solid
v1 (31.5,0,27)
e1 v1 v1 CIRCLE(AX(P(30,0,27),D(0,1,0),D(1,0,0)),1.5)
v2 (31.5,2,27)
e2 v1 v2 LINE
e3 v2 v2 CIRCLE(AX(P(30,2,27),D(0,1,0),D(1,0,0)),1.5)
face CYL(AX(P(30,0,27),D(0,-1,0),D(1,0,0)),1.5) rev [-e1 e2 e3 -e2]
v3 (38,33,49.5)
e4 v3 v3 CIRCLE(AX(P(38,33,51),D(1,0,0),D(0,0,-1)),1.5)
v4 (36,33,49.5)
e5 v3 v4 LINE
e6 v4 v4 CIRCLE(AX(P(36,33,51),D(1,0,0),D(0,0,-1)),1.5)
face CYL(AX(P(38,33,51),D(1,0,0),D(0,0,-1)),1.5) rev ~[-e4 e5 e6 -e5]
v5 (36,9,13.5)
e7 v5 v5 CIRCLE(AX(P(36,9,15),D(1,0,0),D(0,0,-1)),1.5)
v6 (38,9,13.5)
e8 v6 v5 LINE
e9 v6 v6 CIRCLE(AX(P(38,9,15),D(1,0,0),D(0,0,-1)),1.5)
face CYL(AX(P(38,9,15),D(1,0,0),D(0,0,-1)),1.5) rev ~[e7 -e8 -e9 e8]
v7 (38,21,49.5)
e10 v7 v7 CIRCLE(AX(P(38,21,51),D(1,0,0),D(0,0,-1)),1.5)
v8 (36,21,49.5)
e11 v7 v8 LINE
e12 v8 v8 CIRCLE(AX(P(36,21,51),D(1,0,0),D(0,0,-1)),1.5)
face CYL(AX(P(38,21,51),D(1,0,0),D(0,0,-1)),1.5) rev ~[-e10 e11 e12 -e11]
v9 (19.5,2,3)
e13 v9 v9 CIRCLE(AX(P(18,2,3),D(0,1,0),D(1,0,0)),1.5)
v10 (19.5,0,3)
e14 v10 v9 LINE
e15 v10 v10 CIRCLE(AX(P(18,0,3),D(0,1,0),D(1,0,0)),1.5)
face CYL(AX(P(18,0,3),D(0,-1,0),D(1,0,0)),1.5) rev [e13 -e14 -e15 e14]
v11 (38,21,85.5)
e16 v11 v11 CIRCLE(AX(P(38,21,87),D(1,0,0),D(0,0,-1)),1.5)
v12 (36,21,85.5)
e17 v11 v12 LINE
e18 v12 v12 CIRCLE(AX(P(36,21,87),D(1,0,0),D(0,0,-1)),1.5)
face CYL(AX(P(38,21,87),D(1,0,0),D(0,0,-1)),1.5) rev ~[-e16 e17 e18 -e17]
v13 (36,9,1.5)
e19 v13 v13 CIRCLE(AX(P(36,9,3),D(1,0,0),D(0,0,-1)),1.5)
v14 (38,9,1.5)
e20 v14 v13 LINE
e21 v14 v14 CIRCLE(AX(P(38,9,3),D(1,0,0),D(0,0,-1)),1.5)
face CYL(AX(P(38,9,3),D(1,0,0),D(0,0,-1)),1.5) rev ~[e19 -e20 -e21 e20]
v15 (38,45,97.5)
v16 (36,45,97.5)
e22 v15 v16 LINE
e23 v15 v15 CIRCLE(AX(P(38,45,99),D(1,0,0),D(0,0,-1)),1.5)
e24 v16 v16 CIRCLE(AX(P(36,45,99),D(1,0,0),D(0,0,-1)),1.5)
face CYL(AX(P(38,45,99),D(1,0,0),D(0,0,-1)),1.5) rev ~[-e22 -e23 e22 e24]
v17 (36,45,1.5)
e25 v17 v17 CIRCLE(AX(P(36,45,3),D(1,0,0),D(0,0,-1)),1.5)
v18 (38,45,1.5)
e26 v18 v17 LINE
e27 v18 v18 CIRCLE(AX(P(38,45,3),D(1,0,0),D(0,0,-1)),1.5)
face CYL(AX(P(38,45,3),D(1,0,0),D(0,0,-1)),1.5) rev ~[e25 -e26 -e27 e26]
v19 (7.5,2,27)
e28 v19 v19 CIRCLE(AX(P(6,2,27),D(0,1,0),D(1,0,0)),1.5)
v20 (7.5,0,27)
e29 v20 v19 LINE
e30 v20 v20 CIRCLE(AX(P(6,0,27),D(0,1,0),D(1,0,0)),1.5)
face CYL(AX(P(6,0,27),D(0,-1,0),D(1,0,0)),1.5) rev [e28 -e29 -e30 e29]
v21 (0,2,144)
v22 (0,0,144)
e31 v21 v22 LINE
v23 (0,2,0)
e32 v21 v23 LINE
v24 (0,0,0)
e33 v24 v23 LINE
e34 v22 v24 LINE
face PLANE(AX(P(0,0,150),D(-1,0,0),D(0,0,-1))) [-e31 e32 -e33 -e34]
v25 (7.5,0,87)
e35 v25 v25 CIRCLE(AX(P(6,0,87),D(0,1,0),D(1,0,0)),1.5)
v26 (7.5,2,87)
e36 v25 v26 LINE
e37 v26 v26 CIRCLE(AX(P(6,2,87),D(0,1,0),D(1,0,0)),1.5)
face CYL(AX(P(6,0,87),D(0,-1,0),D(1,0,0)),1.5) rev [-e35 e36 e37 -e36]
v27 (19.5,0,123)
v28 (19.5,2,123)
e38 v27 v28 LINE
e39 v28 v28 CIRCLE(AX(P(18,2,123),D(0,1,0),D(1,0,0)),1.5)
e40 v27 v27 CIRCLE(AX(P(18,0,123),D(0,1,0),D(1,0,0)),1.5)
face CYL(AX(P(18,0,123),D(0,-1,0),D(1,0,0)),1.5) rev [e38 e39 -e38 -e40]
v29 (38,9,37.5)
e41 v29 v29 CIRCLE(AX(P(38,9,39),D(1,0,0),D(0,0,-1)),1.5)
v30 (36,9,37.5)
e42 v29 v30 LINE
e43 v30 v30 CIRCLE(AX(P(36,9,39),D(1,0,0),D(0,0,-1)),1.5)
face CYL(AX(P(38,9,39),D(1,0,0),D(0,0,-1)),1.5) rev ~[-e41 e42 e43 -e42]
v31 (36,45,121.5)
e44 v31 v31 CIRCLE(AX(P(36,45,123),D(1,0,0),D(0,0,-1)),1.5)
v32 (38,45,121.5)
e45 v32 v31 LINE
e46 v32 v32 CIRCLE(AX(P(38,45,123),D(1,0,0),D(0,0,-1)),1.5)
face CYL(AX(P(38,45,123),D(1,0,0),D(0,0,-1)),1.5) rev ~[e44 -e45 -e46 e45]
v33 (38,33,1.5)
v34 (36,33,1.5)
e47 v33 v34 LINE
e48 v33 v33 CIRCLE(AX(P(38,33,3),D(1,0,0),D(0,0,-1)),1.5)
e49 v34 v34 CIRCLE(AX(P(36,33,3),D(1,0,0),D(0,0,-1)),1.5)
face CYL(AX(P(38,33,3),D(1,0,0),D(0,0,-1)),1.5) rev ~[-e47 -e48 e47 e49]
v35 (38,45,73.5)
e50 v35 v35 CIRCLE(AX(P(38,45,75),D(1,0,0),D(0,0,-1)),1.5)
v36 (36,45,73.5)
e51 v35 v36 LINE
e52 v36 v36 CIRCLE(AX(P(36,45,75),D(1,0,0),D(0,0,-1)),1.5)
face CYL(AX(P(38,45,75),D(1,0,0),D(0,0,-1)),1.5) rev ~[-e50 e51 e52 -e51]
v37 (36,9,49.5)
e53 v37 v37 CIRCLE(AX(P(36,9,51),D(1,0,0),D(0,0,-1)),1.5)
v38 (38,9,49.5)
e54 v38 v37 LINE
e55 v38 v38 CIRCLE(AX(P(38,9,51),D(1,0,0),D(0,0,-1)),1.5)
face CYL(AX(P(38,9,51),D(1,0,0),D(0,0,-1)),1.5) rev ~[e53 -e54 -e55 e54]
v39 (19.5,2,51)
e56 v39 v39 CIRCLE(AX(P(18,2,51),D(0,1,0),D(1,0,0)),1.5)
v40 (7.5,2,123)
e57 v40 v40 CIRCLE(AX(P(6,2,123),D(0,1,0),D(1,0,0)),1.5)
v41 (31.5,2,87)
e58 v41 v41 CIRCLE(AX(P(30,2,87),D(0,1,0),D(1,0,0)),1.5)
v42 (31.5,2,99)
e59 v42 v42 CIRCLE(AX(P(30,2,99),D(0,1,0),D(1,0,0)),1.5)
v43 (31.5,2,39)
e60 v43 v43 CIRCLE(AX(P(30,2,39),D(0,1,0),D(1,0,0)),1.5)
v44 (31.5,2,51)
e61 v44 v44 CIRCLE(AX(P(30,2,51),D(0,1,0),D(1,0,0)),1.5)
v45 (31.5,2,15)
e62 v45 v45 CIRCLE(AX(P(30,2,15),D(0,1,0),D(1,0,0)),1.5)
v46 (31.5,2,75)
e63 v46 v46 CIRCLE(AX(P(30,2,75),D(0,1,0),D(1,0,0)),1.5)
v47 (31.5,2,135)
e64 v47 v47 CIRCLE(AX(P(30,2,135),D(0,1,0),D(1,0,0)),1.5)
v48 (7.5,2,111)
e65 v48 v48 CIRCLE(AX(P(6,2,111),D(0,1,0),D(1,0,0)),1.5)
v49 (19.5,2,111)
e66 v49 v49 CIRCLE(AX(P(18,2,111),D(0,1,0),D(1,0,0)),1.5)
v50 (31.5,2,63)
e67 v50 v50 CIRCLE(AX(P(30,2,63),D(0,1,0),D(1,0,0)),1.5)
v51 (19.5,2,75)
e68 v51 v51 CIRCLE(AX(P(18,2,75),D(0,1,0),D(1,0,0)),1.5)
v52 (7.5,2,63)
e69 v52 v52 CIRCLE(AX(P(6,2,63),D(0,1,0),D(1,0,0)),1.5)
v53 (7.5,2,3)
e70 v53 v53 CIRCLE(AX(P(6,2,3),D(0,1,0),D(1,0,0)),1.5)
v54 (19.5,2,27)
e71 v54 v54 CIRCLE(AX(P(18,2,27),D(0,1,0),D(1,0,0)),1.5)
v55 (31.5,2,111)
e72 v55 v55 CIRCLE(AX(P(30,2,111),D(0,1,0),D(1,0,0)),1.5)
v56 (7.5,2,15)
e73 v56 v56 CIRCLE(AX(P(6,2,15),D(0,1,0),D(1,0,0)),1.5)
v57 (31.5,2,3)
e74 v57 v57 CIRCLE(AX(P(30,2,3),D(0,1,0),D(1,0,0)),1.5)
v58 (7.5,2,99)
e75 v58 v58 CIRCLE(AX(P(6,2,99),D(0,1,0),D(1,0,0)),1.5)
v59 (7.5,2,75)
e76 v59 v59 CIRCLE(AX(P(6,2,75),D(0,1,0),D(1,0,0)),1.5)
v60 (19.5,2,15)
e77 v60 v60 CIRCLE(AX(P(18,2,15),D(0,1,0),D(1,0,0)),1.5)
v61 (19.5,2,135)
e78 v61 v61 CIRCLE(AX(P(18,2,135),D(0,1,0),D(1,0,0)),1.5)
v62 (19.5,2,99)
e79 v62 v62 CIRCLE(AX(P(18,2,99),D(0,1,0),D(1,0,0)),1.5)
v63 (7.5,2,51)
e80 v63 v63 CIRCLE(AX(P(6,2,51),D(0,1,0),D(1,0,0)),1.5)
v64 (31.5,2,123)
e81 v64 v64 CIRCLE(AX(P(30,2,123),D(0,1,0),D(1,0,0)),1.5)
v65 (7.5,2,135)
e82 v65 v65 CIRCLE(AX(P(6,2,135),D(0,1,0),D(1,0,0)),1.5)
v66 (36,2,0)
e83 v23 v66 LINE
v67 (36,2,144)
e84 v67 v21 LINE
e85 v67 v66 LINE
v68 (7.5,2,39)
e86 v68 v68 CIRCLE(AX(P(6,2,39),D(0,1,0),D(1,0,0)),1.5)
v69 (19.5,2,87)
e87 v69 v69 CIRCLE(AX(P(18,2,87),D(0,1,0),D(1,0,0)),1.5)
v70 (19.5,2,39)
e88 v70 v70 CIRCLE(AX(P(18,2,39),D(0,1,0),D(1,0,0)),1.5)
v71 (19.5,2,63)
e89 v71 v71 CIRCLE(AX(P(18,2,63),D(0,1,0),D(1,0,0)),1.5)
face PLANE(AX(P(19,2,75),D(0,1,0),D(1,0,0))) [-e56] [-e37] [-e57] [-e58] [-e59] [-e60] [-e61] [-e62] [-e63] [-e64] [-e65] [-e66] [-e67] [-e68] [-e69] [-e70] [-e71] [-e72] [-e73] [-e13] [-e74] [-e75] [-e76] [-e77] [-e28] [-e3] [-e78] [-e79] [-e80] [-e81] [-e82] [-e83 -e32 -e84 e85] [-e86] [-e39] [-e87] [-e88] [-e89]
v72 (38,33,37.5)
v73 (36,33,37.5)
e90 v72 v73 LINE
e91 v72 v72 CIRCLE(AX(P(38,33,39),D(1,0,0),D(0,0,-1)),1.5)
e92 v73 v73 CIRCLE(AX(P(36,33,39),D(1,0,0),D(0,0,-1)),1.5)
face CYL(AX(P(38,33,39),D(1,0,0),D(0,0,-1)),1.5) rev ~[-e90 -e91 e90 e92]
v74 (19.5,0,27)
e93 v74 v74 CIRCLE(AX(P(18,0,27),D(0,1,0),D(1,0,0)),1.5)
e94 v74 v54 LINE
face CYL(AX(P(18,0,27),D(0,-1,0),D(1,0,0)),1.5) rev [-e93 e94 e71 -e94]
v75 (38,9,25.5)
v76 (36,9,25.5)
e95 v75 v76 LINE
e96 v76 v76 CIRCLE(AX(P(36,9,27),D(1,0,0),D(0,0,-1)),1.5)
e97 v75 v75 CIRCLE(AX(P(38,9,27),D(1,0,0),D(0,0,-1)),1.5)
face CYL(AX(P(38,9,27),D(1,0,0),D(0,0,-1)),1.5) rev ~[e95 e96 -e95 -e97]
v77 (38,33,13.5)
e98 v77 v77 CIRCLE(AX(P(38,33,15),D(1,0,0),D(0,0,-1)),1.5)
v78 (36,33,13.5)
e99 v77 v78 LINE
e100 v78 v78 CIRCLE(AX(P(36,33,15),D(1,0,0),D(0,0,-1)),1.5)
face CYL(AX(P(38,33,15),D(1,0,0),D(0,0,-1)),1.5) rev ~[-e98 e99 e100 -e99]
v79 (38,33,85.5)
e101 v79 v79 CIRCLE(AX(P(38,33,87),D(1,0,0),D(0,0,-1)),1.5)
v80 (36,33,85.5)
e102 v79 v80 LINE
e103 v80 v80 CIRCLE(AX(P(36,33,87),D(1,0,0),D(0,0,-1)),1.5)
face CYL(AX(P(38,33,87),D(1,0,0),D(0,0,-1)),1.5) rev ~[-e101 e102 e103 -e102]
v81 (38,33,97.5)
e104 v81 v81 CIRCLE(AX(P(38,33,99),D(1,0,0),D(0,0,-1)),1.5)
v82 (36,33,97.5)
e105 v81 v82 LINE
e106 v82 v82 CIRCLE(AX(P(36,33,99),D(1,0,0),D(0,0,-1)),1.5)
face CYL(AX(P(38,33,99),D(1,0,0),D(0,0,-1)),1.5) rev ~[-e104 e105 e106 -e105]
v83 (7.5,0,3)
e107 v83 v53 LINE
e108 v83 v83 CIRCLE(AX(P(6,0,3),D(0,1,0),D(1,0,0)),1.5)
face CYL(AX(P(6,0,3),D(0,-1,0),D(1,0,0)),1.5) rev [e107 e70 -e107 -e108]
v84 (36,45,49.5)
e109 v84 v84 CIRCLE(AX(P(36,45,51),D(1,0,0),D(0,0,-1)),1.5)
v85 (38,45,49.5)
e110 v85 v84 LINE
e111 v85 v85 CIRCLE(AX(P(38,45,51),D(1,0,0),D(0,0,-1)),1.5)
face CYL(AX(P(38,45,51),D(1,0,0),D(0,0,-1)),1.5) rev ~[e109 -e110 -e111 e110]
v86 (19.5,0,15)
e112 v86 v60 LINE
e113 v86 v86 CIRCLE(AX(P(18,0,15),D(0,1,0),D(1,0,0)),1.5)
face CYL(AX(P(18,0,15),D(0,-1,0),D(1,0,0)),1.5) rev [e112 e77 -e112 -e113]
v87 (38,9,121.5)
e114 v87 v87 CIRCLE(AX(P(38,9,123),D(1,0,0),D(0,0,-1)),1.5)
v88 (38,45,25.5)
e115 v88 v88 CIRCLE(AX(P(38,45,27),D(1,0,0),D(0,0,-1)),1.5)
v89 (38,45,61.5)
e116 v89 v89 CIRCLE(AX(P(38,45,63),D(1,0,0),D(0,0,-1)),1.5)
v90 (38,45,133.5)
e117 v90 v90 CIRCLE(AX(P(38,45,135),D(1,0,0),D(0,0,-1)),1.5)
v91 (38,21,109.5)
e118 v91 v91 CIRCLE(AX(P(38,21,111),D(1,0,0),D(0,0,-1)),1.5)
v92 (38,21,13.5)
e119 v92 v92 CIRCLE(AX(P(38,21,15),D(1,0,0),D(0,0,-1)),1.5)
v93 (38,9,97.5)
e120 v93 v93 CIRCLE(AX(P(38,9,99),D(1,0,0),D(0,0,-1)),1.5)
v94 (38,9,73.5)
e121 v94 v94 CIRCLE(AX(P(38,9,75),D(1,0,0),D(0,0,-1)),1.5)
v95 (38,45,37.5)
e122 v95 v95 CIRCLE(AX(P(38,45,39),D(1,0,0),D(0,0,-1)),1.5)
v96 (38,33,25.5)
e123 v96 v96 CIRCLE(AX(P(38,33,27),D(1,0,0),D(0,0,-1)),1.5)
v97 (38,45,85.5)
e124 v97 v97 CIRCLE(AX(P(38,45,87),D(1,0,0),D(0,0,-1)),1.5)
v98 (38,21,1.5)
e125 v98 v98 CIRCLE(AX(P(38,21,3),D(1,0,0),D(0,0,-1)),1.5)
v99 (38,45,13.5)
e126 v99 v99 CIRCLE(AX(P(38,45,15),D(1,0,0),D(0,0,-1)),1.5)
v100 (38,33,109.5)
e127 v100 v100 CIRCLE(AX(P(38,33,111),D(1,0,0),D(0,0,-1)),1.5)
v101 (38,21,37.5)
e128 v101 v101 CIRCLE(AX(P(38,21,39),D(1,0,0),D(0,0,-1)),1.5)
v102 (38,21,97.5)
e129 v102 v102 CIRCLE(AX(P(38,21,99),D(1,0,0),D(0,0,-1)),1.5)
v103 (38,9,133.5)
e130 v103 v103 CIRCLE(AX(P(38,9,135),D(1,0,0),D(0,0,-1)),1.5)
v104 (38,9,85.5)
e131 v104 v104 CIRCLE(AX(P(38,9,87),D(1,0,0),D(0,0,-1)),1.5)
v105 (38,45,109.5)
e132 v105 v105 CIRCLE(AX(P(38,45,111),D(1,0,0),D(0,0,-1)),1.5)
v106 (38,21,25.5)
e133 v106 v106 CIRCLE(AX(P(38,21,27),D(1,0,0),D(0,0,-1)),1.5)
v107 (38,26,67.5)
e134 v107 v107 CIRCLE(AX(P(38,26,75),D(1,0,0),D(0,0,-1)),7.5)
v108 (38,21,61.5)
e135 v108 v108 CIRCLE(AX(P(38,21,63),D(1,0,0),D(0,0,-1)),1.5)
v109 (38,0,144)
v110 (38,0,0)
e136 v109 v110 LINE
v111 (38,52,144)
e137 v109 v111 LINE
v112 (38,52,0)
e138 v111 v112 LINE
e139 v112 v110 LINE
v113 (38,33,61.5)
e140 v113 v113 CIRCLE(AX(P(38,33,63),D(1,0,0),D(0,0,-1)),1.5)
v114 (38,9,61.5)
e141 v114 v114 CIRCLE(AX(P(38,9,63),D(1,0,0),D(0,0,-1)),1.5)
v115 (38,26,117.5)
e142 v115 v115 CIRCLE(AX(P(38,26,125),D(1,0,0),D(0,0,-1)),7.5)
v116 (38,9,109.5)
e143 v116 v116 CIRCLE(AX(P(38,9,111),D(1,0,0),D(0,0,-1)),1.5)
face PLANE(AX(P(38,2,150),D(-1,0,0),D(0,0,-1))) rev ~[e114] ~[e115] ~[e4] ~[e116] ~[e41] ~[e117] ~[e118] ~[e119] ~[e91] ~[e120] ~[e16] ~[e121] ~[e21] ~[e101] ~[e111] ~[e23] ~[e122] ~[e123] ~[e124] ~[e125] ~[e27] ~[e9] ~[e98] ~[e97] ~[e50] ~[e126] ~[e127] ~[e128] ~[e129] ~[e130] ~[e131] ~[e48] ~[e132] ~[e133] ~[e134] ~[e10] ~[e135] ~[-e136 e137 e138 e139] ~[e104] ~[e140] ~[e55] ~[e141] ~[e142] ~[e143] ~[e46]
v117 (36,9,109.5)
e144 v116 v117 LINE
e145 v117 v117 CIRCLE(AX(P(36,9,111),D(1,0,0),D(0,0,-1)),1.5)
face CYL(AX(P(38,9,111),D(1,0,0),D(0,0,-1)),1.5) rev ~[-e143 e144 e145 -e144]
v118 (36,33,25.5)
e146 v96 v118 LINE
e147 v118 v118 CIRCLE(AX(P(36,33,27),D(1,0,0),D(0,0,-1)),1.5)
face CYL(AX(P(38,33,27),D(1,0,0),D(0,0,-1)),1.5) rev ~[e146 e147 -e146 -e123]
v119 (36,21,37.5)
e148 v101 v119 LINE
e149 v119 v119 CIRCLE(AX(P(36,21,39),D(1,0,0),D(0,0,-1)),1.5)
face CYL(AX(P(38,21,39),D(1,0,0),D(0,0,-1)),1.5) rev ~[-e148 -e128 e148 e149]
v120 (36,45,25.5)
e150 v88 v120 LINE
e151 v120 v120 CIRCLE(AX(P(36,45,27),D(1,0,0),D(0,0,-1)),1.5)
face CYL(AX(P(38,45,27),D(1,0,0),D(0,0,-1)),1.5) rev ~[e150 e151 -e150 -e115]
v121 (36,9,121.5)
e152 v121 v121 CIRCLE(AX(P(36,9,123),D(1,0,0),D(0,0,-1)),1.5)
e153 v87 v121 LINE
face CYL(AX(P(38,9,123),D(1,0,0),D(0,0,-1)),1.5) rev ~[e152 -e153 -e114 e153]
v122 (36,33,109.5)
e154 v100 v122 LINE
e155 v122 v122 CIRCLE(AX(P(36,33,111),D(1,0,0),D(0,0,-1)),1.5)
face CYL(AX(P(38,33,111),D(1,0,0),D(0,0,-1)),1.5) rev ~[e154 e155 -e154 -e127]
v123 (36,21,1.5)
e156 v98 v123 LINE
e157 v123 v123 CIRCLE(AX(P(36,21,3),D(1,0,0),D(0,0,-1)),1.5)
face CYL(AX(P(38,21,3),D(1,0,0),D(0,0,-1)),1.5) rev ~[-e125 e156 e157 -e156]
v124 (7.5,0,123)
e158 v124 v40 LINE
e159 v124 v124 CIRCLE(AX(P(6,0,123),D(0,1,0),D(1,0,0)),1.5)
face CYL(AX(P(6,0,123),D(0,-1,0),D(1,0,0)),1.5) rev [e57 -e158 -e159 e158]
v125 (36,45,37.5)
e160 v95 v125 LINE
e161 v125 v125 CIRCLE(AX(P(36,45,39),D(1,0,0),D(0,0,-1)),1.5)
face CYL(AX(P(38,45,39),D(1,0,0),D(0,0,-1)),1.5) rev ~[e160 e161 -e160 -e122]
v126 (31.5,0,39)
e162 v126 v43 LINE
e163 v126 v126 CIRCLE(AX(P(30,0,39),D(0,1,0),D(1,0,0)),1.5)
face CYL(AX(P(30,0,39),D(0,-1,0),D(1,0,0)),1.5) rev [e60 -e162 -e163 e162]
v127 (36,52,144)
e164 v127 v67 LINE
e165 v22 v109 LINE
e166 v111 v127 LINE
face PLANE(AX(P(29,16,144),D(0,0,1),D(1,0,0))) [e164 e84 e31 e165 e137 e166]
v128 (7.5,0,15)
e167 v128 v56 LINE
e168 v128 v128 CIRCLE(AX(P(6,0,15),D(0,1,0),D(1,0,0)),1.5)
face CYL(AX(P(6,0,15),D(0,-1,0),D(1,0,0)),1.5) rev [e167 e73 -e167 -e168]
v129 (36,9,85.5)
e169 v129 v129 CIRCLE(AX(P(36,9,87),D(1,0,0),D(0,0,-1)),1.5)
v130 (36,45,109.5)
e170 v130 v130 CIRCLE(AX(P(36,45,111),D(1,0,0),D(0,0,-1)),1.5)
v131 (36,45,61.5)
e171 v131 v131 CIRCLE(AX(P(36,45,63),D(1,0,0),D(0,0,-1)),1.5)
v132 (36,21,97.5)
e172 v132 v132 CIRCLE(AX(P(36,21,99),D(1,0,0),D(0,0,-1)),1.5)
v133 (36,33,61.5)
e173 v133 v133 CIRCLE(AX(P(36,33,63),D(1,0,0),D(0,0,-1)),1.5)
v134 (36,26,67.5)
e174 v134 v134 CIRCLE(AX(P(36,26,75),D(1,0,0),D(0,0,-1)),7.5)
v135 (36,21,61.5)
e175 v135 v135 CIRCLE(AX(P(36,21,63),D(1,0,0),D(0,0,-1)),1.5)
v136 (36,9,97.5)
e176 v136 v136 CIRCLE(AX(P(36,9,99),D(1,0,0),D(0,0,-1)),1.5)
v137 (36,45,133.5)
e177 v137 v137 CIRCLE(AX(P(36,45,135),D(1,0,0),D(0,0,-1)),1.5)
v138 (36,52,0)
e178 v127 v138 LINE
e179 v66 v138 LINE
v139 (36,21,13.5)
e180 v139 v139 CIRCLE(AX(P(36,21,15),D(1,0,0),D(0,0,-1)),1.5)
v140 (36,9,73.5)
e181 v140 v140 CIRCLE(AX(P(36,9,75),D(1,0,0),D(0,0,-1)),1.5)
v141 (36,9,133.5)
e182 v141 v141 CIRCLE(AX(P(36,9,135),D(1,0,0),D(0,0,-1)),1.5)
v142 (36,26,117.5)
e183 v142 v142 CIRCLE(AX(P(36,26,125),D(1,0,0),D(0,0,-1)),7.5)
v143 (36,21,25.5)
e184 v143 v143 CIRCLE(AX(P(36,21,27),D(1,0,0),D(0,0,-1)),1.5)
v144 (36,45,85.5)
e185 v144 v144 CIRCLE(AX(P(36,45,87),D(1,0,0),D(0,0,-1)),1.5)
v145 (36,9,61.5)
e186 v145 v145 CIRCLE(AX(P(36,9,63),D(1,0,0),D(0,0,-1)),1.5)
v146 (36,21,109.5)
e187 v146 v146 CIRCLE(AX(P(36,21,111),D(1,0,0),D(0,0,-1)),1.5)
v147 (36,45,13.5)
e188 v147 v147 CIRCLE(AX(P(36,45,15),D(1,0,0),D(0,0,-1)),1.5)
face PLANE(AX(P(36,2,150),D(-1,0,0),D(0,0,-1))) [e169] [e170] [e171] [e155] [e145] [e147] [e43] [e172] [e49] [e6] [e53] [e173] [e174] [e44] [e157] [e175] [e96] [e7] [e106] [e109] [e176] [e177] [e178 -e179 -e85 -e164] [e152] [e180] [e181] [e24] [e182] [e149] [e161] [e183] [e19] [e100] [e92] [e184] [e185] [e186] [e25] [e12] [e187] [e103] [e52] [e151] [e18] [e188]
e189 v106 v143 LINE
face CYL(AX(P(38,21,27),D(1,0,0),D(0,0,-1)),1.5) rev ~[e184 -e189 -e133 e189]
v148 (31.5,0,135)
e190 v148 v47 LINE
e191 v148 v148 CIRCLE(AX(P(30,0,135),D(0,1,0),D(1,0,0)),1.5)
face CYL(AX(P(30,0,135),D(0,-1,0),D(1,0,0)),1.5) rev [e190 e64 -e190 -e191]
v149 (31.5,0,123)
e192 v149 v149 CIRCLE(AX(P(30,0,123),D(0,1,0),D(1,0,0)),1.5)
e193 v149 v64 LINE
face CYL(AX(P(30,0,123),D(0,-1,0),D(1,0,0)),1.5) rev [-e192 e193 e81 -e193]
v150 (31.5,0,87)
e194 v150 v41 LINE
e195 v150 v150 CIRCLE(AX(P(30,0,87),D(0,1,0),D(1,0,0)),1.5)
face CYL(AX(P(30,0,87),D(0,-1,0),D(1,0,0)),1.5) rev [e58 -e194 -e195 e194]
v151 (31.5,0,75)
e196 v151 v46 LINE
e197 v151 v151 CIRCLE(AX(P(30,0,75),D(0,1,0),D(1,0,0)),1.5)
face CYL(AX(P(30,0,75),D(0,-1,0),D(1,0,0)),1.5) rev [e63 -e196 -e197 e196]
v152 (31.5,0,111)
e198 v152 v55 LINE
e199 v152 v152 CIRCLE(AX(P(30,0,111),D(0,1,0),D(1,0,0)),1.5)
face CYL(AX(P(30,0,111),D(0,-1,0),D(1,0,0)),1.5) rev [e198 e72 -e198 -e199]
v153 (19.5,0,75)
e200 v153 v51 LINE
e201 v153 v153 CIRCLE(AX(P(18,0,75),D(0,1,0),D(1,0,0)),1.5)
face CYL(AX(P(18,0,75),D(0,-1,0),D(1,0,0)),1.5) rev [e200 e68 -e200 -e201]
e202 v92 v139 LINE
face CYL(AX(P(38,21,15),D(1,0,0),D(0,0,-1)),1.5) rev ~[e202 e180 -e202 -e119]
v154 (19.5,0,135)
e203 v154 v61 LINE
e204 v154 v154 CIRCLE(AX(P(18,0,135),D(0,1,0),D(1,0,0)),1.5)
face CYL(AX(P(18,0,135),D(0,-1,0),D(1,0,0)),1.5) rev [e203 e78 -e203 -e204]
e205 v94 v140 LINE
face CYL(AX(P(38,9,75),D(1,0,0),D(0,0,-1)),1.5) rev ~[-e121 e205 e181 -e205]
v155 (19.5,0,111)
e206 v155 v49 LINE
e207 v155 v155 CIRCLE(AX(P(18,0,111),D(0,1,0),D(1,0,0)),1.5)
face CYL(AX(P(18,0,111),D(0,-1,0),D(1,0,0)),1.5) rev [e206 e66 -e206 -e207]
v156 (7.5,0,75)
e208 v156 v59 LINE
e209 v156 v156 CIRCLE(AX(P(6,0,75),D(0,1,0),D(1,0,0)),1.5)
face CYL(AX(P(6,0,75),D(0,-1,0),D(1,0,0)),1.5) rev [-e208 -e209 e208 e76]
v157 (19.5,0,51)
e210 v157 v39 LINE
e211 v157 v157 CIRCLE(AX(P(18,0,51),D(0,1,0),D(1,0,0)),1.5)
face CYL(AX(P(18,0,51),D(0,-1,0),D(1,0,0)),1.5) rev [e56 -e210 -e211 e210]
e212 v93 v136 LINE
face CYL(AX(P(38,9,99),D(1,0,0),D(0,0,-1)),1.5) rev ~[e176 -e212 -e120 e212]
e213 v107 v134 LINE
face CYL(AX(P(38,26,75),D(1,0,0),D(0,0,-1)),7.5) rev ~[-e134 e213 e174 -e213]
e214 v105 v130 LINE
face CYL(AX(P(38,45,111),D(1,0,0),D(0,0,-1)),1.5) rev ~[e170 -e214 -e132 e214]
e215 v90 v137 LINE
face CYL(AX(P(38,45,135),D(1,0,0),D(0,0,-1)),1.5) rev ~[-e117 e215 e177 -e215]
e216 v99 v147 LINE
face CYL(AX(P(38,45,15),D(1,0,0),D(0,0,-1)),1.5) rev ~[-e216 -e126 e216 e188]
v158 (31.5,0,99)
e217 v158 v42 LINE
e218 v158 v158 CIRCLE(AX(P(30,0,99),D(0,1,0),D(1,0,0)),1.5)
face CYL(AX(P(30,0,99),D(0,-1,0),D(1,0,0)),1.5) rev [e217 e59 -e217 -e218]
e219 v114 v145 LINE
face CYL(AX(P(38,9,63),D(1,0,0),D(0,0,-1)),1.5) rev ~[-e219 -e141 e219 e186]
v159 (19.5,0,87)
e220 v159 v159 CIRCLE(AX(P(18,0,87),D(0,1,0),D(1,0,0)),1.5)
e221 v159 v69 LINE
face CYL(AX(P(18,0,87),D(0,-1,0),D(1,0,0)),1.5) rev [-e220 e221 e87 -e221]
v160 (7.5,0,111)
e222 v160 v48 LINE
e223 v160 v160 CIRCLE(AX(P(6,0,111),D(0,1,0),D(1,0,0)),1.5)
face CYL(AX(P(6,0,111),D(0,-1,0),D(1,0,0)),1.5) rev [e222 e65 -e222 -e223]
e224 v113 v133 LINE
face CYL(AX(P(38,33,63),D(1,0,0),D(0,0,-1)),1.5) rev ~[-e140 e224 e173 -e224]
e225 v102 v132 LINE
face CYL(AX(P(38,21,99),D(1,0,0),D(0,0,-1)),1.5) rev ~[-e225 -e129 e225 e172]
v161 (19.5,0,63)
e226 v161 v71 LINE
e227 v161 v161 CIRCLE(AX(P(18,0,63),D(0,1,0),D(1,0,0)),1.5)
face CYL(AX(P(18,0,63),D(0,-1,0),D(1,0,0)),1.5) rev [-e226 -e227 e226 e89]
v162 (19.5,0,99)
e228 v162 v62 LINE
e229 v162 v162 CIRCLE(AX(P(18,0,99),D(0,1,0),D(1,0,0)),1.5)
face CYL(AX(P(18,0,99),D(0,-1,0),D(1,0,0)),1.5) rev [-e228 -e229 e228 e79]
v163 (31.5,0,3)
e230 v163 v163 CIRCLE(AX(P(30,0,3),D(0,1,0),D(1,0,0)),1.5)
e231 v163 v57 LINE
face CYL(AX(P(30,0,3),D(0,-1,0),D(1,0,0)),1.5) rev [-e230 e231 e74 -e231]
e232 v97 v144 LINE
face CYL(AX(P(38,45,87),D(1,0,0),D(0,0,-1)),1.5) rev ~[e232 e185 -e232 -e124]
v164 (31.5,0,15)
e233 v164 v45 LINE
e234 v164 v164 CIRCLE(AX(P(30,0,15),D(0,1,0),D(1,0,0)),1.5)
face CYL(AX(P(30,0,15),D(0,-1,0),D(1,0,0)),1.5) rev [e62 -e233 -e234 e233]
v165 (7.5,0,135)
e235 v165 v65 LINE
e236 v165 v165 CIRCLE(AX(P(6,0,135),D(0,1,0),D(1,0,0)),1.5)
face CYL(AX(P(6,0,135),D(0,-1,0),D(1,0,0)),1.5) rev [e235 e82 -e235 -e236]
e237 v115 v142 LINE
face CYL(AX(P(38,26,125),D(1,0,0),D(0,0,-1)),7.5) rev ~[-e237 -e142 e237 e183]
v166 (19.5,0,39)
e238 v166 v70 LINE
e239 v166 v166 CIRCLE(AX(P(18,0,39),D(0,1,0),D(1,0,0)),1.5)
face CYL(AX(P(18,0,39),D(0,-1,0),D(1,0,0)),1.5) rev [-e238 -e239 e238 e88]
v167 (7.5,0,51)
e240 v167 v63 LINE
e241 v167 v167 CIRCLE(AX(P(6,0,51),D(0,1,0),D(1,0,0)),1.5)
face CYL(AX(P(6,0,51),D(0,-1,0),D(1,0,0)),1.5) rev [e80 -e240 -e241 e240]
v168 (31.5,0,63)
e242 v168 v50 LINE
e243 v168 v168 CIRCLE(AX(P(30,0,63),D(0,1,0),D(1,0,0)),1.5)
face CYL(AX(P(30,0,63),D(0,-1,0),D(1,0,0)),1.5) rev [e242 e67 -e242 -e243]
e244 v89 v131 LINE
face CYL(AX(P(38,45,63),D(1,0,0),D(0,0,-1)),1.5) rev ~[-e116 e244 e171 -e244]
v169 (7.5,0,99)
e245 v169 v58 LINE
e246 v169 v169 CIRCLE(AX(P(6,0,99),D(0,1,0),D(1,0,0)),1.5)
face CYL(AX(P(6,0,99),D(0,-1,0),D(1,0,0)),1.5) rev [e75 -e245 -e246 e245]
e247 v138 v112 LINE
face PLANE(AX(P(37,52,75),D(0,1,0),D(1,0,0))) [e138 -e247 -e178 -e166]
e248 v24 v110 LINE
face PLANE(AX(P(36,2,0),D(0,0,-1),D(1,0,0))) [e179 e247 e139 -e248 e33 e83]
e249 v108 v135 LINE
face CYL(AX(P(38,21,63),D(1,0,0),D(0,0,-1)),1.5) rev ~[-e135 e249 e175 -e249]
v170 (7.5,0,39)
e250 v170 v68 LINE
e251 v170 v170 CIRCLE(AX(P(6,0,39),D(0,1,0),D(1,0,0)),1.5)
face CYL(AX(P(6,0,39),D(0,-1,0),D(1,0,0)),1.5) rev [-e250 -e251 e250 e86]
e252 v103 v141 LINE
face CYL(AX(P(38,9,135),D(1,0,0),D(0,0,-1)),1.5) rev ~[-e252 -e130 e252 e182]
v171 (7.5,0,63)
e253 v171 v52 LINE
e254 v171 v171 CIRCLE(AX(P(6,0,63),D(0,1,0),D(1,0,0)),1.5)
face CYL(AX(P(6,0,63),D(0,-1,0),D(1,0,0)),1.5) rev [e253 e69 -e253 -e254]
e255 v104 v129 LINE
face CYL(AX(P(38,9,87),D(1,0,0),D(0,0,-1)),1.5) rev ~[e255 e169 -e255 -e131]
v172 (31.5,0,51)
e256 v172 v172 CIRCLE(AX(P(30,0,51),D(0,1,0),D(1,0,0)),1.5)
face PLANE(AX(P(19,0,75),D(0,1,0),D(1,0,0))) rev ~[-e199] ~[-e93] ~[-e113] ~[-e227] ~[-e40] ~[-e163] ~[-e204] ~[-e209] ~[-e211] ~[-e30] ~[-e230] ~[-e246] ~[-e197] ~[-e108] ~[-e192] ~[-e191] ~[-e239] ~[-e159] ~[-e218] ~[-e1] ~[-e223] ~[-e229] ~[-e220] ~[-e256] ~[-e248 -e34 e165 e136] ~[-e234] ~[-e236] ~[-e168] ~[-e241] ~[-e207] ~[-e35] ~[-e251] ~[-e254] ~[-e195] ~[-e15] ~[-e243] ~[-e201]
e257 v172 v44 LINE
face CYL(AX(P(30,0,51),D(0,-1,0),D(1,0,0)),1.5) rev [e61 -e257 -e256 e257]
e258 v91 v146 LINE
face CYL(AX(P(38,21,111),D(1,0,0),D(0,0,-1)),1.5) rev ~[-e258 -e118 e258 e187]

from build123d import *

# Parameters (mm, degrees)
SKETCH1_W           = 38
SKETCH1_H           = 150
SKETCH1_R           = 1.5
BOSS_EXTRUDE1_DEPTH = 2
SKETCH2_W           = 2
SKETCH2_H           = 150
BOSS_EXTRUDE2_DEPTH = 50
SKETCH3_R           = 1.5
SKETCH3_R_2         = 7.5
CUT_EXTRUDE1_DEPTH  = 50
CUT_EXTRUDE2_DEPTH  = 6


with BuildPart() as part:
    # Sketch1 → Boss-Extrude1 (new body)
    with BuildSketch(Plane(origin=(0, 0, 0), x_dir=(1, 0, 0), z_dir=(0, 1, 0))):
        with Locations((19, -75)):
            Rectangle(SKETCH1_W, SKETCH1_H)
        with Locations((6, -3)):
            Circle(SKETCH1_R, mode=Mode.SUBTRACT)
        with Locations((18, -3)):
            Circle(SKETCH1_R, mode=Mode.SUBTRACT)
        with Locations((30, -3)):
            Circle(SKETCH1_R, mode=Mode.SUBTRACT)
        with Locations((18, -15)):
            Circle(SKETCH1_R, mode=Mode.SUBTRACT)
        with Locations((30, -15)):
            Circle(SKETCH1_R, mode=Mode.SUBTRACT)
        with Locations((18, -27)):
            Circle(SKETCH1_R, mode=Mode.SUBTRACT)
        with Locations((30, -27)):
            Circle(SKETCH1_R, mode=Mode.SUBTRACT)
        with Locations((18, -39)):
            Circle(SKETCH1_R, mode=Mode.SUBTRACT)
        with Locations((30, -39)):
            Circle(SKETCH1_R, mode=Mode.SUBTRACT)
        with Locations((18, -51)):
            Circle(SKETCH1_R, mode=Mode.SUBTRACT)
        with Locations((30, -51)):
            Circle(SKETCH1_R, mode=Mode.SUBTRACT)
        with Locations((18, -63)):
            Circle(SKETCH1_R, mode=Mode.SUBTRACT)
        with Locations((30, -63)):
            Circle(SKETCH1_R, mode=Mode.SUBTRACT)
        with Locations((18, -75)):
            Circle(SKETCH1_R, mode=Mode.SUBTRACT)
        with Locations((30, -75)):
            Circle(SKETCH1_R, mode=Mode.SUBTRACT)
        with Locations((18, -87)):
            Circle(SKETCH1_R, mode=Mode.SUBTRACT)
        with Locations((30, -87)):
            Circle(SKETCH1_R, mode=Mode.SUBTRACT)
        with Locations((18, -99)):
            Circle(SKETCH1_R, mode=Mode.SUBTRACT)
        with Locations((30, -99)):
            Circle(SKETCH1_R, mode=Mode.SUBTRACT)
        with Locations((18, -111)):
            Circle(SKETCH1_R, mode=Mode.SUBTRACT)
        with Locations((30, -111)):
            Circle(SKETCH1_R, mode=Mode.SUBTRACT)
        with Locations((18, -123)):
            Circle(SKETCH1_R, mode=Mode.SUBTRACT)
        with Locations((30, -123)):
            Circle(SKETCH1_R, mode=Mode.SUBTRACT)
        with Locations((18, -135)):
            Circle(SKETCH1_R, mode=Mode.SUBTRACT)
        with Locations((30, -135)):
            Circle(SKETCH1_R, mode=Mode.SUBTRACT)
        with Locations((18, -147)):
            Circle(SKETCH1_R, mode=Mode.SUBTRACT)
        with Locations((30, -147)):
            Circle(SKETCH1_R, mode=Mode.SUBTRACT)
        with Locations((6, -15)):
            Circle(SKETCH1_R, mode=Mode.SUBTRACT)
        with Locations((6, -27)):
            Circle(SKETCH1_R, mode=Mode.SUBTRACT)
        with Locations((6, -39)):
            Circle(SKETCH1_R, mode=Mode.SUBTRACT)
        with Locations((6, -51)):
            Circle(SKETCH1_R, mode=Mode.SUBTRACT)
        with Locations((6, -63)):
            Circle(SKETCH1_R, mode=Mode.SUBTRACT)
        with Locations((6, -75)):
            Circle(SKETCH1_R, mode=Mode.SUBTRACT)
        with Locations((6, -87)):
            Circle(SKETCH1_R, mode=Mode.SUBTRACT)
        with Locations((6, -99)):
            Circle(SKETCH1_R, mode=Mode.SUBTRACT)
        with Locations((6, -111)):
            Circle(SKETCH1_R, mode=Mode.SUBTRACT)
        with Locations((6, -123)):
            Circle(SKETCH1_R, mode=Mode.SUBTRACT)
        with Locations((6, -135)):
            Circle(SKETCH1_R, mode=Mode.SUBTRACT)
        with Locations((6, -147)):
            Circle(SKETCH1_R, mode=Mode.SUBTRACT)
    extrude(amount=BOSS_EXTRUDE1_DEPTH)

    # Sketch2 → Boss-Extrude2 (add)
    with BuildSketch(Plane(origin=(0, 2, 0), x_dir=(1, 0, 0), z_dir=(0, 1, 0))):
        with Locations((37, -75)):
            Rectangle(SKETCH2_W, SKETCH2_H)
    extrude(amount=BOSS_EXTRUDE2_DEPTH)

    # Sketch3 → Cut-Extrude1 (cut)
    with BuildSketch(Plane(origin=(38, 0, 0), x_dir=(0, 0, -1), z_dir=(1, 0, 0))):
        with Locations((-147, 45)):
            Circle(SKETCH3_R)
        with Locations((-135, 45)):
            Circle(SKETCH3_R)
        with Locations((-123, 45)):
            Circle(SKETCH3_R)
        with Locations((-111, 45)):
            Circle(SKETCH3_R)
        with Locations((-99, 45)):
            Circle(SKETCH3_R)
        with Locations((-87, 45)):
            Circle(SKETCH3_R)
        with Locations((-75, 45)):
            Circle(SKETCH3_R)
        with Locations((-63, 45)):
            Circle(SKETCH3_R)
        with Locations((-51, 45)):
            Circle(SKETCH3_R)
        with Locations((-39, 45)):
            Circle(SKETCH3_R)
        with Locations((-27, 45)):
            Circle(SKETCH3_R)
        with Locations((-15, 45)):
            Circle(SKETCH3_R)
        with Locations((-3, 45)):
            Circle(SKETCH3_R)
        with Locations((-111, 33)):
            Circle(SKETCH3_R)
        with Locations((-99, 33)):
            Circle(SKETCH3_R)
        with Locations((-87, 33)):
            Circle(SKETCH3_R)
        with Locations((-63, 33)):
            Circle(SKETCH3_R)
        with Locations((-51, 33)):
            Circle(SKETCH3_R)
        with Locations((-39, 33)):
            Circle(SKETCH3_R)
        with Locations((-27, 33)):
            Circle(SKETCH3_R)
        with Locations((-3, 33)):
            Circle(SKETCH3_R)
        with Locations((-111, 21)):
            Circle(SKETCH3_R)
        with Locations((-99, 21)):
            Circle(SKETCH3_R)
        with Locations((-87, 21)):
            Circle(SKETCH3_R)
        with Locations((-63, 21)):
            Circle(SKETCH3_R)
        with Locations((-51, 21)):
            Circle(SKETCH3_R)
        with Locations((-39, 21)):
            Circle(SKETCH3_R)
        with Locations((-27, 21)):
            Circle(SKETCH3_R)
        with Locations((-3, 21)):
            Circle(SKETCH3_R)
        with Locations((-135, 9)):
            Circle(SKETCH3_R)
        with Locations((-123, 9)):
            Circle(SKETCH3_R)
        with Locations((-111, 9)):
            Circle(SKETCH3_R)
        with Locations((-99, 9)):
            Circle(SKETCH3_R)
        with Locations((-87, 9)):
            Circle(SKETCH3_R)
        with Locations((-75, 9)):
            Circle(SKETCH3_R)
        with Locations((-63, 9)):
            Circle(SKETCH3_R)
        with Locations((-51, 9)):
            Circle(SKETCH3_R)
        with Locations((-39, 9)):
            Circle(SKETCH3_R)
        with Locations((-27, 9)):
            Circle(SKETCH3_R)
        with Locations((-15, 9)):
            Circle(SKETCH3_R)
        with Locations((-3, 9)):
            Circle(SKETCH3_R)
        with Locations((-147, 33)):
            Circle(SKETCH3_R)
        with Locations((-147, 21)):
            Circle(SKETCH3_R)
        with Locations((-147, 9)):
            Circle(SKETCH3_R)
        with Locations((-75, 26)):
            Circle(SKETCH3_R_2)
        with Locations((-15, 21)):
            Circle(SKETCH3_R)
        with Locations((-15, 33)):
            Circle(SKETCH3_R)
        with Locations((-125, 26)):
            Circle(SKETCH3_R_2)
    extrude(amount=-CUT_EXTRUDE1_DEPTH, mode=Mode.SUBTRACT)

    # Sketch4 → Cut-Extrude2 (cut)
    with BuildSketch(Plane.XY.offset(150)):
        Polygon((0, 0), (38, 0), (38, 52), (36, 52), (36, 2), (0, 2), align=None)
    extrude(amount=-CUT_EXTRUDE2_DEPTH, mode=Mode.SUBTRACT)


solid = part.part
